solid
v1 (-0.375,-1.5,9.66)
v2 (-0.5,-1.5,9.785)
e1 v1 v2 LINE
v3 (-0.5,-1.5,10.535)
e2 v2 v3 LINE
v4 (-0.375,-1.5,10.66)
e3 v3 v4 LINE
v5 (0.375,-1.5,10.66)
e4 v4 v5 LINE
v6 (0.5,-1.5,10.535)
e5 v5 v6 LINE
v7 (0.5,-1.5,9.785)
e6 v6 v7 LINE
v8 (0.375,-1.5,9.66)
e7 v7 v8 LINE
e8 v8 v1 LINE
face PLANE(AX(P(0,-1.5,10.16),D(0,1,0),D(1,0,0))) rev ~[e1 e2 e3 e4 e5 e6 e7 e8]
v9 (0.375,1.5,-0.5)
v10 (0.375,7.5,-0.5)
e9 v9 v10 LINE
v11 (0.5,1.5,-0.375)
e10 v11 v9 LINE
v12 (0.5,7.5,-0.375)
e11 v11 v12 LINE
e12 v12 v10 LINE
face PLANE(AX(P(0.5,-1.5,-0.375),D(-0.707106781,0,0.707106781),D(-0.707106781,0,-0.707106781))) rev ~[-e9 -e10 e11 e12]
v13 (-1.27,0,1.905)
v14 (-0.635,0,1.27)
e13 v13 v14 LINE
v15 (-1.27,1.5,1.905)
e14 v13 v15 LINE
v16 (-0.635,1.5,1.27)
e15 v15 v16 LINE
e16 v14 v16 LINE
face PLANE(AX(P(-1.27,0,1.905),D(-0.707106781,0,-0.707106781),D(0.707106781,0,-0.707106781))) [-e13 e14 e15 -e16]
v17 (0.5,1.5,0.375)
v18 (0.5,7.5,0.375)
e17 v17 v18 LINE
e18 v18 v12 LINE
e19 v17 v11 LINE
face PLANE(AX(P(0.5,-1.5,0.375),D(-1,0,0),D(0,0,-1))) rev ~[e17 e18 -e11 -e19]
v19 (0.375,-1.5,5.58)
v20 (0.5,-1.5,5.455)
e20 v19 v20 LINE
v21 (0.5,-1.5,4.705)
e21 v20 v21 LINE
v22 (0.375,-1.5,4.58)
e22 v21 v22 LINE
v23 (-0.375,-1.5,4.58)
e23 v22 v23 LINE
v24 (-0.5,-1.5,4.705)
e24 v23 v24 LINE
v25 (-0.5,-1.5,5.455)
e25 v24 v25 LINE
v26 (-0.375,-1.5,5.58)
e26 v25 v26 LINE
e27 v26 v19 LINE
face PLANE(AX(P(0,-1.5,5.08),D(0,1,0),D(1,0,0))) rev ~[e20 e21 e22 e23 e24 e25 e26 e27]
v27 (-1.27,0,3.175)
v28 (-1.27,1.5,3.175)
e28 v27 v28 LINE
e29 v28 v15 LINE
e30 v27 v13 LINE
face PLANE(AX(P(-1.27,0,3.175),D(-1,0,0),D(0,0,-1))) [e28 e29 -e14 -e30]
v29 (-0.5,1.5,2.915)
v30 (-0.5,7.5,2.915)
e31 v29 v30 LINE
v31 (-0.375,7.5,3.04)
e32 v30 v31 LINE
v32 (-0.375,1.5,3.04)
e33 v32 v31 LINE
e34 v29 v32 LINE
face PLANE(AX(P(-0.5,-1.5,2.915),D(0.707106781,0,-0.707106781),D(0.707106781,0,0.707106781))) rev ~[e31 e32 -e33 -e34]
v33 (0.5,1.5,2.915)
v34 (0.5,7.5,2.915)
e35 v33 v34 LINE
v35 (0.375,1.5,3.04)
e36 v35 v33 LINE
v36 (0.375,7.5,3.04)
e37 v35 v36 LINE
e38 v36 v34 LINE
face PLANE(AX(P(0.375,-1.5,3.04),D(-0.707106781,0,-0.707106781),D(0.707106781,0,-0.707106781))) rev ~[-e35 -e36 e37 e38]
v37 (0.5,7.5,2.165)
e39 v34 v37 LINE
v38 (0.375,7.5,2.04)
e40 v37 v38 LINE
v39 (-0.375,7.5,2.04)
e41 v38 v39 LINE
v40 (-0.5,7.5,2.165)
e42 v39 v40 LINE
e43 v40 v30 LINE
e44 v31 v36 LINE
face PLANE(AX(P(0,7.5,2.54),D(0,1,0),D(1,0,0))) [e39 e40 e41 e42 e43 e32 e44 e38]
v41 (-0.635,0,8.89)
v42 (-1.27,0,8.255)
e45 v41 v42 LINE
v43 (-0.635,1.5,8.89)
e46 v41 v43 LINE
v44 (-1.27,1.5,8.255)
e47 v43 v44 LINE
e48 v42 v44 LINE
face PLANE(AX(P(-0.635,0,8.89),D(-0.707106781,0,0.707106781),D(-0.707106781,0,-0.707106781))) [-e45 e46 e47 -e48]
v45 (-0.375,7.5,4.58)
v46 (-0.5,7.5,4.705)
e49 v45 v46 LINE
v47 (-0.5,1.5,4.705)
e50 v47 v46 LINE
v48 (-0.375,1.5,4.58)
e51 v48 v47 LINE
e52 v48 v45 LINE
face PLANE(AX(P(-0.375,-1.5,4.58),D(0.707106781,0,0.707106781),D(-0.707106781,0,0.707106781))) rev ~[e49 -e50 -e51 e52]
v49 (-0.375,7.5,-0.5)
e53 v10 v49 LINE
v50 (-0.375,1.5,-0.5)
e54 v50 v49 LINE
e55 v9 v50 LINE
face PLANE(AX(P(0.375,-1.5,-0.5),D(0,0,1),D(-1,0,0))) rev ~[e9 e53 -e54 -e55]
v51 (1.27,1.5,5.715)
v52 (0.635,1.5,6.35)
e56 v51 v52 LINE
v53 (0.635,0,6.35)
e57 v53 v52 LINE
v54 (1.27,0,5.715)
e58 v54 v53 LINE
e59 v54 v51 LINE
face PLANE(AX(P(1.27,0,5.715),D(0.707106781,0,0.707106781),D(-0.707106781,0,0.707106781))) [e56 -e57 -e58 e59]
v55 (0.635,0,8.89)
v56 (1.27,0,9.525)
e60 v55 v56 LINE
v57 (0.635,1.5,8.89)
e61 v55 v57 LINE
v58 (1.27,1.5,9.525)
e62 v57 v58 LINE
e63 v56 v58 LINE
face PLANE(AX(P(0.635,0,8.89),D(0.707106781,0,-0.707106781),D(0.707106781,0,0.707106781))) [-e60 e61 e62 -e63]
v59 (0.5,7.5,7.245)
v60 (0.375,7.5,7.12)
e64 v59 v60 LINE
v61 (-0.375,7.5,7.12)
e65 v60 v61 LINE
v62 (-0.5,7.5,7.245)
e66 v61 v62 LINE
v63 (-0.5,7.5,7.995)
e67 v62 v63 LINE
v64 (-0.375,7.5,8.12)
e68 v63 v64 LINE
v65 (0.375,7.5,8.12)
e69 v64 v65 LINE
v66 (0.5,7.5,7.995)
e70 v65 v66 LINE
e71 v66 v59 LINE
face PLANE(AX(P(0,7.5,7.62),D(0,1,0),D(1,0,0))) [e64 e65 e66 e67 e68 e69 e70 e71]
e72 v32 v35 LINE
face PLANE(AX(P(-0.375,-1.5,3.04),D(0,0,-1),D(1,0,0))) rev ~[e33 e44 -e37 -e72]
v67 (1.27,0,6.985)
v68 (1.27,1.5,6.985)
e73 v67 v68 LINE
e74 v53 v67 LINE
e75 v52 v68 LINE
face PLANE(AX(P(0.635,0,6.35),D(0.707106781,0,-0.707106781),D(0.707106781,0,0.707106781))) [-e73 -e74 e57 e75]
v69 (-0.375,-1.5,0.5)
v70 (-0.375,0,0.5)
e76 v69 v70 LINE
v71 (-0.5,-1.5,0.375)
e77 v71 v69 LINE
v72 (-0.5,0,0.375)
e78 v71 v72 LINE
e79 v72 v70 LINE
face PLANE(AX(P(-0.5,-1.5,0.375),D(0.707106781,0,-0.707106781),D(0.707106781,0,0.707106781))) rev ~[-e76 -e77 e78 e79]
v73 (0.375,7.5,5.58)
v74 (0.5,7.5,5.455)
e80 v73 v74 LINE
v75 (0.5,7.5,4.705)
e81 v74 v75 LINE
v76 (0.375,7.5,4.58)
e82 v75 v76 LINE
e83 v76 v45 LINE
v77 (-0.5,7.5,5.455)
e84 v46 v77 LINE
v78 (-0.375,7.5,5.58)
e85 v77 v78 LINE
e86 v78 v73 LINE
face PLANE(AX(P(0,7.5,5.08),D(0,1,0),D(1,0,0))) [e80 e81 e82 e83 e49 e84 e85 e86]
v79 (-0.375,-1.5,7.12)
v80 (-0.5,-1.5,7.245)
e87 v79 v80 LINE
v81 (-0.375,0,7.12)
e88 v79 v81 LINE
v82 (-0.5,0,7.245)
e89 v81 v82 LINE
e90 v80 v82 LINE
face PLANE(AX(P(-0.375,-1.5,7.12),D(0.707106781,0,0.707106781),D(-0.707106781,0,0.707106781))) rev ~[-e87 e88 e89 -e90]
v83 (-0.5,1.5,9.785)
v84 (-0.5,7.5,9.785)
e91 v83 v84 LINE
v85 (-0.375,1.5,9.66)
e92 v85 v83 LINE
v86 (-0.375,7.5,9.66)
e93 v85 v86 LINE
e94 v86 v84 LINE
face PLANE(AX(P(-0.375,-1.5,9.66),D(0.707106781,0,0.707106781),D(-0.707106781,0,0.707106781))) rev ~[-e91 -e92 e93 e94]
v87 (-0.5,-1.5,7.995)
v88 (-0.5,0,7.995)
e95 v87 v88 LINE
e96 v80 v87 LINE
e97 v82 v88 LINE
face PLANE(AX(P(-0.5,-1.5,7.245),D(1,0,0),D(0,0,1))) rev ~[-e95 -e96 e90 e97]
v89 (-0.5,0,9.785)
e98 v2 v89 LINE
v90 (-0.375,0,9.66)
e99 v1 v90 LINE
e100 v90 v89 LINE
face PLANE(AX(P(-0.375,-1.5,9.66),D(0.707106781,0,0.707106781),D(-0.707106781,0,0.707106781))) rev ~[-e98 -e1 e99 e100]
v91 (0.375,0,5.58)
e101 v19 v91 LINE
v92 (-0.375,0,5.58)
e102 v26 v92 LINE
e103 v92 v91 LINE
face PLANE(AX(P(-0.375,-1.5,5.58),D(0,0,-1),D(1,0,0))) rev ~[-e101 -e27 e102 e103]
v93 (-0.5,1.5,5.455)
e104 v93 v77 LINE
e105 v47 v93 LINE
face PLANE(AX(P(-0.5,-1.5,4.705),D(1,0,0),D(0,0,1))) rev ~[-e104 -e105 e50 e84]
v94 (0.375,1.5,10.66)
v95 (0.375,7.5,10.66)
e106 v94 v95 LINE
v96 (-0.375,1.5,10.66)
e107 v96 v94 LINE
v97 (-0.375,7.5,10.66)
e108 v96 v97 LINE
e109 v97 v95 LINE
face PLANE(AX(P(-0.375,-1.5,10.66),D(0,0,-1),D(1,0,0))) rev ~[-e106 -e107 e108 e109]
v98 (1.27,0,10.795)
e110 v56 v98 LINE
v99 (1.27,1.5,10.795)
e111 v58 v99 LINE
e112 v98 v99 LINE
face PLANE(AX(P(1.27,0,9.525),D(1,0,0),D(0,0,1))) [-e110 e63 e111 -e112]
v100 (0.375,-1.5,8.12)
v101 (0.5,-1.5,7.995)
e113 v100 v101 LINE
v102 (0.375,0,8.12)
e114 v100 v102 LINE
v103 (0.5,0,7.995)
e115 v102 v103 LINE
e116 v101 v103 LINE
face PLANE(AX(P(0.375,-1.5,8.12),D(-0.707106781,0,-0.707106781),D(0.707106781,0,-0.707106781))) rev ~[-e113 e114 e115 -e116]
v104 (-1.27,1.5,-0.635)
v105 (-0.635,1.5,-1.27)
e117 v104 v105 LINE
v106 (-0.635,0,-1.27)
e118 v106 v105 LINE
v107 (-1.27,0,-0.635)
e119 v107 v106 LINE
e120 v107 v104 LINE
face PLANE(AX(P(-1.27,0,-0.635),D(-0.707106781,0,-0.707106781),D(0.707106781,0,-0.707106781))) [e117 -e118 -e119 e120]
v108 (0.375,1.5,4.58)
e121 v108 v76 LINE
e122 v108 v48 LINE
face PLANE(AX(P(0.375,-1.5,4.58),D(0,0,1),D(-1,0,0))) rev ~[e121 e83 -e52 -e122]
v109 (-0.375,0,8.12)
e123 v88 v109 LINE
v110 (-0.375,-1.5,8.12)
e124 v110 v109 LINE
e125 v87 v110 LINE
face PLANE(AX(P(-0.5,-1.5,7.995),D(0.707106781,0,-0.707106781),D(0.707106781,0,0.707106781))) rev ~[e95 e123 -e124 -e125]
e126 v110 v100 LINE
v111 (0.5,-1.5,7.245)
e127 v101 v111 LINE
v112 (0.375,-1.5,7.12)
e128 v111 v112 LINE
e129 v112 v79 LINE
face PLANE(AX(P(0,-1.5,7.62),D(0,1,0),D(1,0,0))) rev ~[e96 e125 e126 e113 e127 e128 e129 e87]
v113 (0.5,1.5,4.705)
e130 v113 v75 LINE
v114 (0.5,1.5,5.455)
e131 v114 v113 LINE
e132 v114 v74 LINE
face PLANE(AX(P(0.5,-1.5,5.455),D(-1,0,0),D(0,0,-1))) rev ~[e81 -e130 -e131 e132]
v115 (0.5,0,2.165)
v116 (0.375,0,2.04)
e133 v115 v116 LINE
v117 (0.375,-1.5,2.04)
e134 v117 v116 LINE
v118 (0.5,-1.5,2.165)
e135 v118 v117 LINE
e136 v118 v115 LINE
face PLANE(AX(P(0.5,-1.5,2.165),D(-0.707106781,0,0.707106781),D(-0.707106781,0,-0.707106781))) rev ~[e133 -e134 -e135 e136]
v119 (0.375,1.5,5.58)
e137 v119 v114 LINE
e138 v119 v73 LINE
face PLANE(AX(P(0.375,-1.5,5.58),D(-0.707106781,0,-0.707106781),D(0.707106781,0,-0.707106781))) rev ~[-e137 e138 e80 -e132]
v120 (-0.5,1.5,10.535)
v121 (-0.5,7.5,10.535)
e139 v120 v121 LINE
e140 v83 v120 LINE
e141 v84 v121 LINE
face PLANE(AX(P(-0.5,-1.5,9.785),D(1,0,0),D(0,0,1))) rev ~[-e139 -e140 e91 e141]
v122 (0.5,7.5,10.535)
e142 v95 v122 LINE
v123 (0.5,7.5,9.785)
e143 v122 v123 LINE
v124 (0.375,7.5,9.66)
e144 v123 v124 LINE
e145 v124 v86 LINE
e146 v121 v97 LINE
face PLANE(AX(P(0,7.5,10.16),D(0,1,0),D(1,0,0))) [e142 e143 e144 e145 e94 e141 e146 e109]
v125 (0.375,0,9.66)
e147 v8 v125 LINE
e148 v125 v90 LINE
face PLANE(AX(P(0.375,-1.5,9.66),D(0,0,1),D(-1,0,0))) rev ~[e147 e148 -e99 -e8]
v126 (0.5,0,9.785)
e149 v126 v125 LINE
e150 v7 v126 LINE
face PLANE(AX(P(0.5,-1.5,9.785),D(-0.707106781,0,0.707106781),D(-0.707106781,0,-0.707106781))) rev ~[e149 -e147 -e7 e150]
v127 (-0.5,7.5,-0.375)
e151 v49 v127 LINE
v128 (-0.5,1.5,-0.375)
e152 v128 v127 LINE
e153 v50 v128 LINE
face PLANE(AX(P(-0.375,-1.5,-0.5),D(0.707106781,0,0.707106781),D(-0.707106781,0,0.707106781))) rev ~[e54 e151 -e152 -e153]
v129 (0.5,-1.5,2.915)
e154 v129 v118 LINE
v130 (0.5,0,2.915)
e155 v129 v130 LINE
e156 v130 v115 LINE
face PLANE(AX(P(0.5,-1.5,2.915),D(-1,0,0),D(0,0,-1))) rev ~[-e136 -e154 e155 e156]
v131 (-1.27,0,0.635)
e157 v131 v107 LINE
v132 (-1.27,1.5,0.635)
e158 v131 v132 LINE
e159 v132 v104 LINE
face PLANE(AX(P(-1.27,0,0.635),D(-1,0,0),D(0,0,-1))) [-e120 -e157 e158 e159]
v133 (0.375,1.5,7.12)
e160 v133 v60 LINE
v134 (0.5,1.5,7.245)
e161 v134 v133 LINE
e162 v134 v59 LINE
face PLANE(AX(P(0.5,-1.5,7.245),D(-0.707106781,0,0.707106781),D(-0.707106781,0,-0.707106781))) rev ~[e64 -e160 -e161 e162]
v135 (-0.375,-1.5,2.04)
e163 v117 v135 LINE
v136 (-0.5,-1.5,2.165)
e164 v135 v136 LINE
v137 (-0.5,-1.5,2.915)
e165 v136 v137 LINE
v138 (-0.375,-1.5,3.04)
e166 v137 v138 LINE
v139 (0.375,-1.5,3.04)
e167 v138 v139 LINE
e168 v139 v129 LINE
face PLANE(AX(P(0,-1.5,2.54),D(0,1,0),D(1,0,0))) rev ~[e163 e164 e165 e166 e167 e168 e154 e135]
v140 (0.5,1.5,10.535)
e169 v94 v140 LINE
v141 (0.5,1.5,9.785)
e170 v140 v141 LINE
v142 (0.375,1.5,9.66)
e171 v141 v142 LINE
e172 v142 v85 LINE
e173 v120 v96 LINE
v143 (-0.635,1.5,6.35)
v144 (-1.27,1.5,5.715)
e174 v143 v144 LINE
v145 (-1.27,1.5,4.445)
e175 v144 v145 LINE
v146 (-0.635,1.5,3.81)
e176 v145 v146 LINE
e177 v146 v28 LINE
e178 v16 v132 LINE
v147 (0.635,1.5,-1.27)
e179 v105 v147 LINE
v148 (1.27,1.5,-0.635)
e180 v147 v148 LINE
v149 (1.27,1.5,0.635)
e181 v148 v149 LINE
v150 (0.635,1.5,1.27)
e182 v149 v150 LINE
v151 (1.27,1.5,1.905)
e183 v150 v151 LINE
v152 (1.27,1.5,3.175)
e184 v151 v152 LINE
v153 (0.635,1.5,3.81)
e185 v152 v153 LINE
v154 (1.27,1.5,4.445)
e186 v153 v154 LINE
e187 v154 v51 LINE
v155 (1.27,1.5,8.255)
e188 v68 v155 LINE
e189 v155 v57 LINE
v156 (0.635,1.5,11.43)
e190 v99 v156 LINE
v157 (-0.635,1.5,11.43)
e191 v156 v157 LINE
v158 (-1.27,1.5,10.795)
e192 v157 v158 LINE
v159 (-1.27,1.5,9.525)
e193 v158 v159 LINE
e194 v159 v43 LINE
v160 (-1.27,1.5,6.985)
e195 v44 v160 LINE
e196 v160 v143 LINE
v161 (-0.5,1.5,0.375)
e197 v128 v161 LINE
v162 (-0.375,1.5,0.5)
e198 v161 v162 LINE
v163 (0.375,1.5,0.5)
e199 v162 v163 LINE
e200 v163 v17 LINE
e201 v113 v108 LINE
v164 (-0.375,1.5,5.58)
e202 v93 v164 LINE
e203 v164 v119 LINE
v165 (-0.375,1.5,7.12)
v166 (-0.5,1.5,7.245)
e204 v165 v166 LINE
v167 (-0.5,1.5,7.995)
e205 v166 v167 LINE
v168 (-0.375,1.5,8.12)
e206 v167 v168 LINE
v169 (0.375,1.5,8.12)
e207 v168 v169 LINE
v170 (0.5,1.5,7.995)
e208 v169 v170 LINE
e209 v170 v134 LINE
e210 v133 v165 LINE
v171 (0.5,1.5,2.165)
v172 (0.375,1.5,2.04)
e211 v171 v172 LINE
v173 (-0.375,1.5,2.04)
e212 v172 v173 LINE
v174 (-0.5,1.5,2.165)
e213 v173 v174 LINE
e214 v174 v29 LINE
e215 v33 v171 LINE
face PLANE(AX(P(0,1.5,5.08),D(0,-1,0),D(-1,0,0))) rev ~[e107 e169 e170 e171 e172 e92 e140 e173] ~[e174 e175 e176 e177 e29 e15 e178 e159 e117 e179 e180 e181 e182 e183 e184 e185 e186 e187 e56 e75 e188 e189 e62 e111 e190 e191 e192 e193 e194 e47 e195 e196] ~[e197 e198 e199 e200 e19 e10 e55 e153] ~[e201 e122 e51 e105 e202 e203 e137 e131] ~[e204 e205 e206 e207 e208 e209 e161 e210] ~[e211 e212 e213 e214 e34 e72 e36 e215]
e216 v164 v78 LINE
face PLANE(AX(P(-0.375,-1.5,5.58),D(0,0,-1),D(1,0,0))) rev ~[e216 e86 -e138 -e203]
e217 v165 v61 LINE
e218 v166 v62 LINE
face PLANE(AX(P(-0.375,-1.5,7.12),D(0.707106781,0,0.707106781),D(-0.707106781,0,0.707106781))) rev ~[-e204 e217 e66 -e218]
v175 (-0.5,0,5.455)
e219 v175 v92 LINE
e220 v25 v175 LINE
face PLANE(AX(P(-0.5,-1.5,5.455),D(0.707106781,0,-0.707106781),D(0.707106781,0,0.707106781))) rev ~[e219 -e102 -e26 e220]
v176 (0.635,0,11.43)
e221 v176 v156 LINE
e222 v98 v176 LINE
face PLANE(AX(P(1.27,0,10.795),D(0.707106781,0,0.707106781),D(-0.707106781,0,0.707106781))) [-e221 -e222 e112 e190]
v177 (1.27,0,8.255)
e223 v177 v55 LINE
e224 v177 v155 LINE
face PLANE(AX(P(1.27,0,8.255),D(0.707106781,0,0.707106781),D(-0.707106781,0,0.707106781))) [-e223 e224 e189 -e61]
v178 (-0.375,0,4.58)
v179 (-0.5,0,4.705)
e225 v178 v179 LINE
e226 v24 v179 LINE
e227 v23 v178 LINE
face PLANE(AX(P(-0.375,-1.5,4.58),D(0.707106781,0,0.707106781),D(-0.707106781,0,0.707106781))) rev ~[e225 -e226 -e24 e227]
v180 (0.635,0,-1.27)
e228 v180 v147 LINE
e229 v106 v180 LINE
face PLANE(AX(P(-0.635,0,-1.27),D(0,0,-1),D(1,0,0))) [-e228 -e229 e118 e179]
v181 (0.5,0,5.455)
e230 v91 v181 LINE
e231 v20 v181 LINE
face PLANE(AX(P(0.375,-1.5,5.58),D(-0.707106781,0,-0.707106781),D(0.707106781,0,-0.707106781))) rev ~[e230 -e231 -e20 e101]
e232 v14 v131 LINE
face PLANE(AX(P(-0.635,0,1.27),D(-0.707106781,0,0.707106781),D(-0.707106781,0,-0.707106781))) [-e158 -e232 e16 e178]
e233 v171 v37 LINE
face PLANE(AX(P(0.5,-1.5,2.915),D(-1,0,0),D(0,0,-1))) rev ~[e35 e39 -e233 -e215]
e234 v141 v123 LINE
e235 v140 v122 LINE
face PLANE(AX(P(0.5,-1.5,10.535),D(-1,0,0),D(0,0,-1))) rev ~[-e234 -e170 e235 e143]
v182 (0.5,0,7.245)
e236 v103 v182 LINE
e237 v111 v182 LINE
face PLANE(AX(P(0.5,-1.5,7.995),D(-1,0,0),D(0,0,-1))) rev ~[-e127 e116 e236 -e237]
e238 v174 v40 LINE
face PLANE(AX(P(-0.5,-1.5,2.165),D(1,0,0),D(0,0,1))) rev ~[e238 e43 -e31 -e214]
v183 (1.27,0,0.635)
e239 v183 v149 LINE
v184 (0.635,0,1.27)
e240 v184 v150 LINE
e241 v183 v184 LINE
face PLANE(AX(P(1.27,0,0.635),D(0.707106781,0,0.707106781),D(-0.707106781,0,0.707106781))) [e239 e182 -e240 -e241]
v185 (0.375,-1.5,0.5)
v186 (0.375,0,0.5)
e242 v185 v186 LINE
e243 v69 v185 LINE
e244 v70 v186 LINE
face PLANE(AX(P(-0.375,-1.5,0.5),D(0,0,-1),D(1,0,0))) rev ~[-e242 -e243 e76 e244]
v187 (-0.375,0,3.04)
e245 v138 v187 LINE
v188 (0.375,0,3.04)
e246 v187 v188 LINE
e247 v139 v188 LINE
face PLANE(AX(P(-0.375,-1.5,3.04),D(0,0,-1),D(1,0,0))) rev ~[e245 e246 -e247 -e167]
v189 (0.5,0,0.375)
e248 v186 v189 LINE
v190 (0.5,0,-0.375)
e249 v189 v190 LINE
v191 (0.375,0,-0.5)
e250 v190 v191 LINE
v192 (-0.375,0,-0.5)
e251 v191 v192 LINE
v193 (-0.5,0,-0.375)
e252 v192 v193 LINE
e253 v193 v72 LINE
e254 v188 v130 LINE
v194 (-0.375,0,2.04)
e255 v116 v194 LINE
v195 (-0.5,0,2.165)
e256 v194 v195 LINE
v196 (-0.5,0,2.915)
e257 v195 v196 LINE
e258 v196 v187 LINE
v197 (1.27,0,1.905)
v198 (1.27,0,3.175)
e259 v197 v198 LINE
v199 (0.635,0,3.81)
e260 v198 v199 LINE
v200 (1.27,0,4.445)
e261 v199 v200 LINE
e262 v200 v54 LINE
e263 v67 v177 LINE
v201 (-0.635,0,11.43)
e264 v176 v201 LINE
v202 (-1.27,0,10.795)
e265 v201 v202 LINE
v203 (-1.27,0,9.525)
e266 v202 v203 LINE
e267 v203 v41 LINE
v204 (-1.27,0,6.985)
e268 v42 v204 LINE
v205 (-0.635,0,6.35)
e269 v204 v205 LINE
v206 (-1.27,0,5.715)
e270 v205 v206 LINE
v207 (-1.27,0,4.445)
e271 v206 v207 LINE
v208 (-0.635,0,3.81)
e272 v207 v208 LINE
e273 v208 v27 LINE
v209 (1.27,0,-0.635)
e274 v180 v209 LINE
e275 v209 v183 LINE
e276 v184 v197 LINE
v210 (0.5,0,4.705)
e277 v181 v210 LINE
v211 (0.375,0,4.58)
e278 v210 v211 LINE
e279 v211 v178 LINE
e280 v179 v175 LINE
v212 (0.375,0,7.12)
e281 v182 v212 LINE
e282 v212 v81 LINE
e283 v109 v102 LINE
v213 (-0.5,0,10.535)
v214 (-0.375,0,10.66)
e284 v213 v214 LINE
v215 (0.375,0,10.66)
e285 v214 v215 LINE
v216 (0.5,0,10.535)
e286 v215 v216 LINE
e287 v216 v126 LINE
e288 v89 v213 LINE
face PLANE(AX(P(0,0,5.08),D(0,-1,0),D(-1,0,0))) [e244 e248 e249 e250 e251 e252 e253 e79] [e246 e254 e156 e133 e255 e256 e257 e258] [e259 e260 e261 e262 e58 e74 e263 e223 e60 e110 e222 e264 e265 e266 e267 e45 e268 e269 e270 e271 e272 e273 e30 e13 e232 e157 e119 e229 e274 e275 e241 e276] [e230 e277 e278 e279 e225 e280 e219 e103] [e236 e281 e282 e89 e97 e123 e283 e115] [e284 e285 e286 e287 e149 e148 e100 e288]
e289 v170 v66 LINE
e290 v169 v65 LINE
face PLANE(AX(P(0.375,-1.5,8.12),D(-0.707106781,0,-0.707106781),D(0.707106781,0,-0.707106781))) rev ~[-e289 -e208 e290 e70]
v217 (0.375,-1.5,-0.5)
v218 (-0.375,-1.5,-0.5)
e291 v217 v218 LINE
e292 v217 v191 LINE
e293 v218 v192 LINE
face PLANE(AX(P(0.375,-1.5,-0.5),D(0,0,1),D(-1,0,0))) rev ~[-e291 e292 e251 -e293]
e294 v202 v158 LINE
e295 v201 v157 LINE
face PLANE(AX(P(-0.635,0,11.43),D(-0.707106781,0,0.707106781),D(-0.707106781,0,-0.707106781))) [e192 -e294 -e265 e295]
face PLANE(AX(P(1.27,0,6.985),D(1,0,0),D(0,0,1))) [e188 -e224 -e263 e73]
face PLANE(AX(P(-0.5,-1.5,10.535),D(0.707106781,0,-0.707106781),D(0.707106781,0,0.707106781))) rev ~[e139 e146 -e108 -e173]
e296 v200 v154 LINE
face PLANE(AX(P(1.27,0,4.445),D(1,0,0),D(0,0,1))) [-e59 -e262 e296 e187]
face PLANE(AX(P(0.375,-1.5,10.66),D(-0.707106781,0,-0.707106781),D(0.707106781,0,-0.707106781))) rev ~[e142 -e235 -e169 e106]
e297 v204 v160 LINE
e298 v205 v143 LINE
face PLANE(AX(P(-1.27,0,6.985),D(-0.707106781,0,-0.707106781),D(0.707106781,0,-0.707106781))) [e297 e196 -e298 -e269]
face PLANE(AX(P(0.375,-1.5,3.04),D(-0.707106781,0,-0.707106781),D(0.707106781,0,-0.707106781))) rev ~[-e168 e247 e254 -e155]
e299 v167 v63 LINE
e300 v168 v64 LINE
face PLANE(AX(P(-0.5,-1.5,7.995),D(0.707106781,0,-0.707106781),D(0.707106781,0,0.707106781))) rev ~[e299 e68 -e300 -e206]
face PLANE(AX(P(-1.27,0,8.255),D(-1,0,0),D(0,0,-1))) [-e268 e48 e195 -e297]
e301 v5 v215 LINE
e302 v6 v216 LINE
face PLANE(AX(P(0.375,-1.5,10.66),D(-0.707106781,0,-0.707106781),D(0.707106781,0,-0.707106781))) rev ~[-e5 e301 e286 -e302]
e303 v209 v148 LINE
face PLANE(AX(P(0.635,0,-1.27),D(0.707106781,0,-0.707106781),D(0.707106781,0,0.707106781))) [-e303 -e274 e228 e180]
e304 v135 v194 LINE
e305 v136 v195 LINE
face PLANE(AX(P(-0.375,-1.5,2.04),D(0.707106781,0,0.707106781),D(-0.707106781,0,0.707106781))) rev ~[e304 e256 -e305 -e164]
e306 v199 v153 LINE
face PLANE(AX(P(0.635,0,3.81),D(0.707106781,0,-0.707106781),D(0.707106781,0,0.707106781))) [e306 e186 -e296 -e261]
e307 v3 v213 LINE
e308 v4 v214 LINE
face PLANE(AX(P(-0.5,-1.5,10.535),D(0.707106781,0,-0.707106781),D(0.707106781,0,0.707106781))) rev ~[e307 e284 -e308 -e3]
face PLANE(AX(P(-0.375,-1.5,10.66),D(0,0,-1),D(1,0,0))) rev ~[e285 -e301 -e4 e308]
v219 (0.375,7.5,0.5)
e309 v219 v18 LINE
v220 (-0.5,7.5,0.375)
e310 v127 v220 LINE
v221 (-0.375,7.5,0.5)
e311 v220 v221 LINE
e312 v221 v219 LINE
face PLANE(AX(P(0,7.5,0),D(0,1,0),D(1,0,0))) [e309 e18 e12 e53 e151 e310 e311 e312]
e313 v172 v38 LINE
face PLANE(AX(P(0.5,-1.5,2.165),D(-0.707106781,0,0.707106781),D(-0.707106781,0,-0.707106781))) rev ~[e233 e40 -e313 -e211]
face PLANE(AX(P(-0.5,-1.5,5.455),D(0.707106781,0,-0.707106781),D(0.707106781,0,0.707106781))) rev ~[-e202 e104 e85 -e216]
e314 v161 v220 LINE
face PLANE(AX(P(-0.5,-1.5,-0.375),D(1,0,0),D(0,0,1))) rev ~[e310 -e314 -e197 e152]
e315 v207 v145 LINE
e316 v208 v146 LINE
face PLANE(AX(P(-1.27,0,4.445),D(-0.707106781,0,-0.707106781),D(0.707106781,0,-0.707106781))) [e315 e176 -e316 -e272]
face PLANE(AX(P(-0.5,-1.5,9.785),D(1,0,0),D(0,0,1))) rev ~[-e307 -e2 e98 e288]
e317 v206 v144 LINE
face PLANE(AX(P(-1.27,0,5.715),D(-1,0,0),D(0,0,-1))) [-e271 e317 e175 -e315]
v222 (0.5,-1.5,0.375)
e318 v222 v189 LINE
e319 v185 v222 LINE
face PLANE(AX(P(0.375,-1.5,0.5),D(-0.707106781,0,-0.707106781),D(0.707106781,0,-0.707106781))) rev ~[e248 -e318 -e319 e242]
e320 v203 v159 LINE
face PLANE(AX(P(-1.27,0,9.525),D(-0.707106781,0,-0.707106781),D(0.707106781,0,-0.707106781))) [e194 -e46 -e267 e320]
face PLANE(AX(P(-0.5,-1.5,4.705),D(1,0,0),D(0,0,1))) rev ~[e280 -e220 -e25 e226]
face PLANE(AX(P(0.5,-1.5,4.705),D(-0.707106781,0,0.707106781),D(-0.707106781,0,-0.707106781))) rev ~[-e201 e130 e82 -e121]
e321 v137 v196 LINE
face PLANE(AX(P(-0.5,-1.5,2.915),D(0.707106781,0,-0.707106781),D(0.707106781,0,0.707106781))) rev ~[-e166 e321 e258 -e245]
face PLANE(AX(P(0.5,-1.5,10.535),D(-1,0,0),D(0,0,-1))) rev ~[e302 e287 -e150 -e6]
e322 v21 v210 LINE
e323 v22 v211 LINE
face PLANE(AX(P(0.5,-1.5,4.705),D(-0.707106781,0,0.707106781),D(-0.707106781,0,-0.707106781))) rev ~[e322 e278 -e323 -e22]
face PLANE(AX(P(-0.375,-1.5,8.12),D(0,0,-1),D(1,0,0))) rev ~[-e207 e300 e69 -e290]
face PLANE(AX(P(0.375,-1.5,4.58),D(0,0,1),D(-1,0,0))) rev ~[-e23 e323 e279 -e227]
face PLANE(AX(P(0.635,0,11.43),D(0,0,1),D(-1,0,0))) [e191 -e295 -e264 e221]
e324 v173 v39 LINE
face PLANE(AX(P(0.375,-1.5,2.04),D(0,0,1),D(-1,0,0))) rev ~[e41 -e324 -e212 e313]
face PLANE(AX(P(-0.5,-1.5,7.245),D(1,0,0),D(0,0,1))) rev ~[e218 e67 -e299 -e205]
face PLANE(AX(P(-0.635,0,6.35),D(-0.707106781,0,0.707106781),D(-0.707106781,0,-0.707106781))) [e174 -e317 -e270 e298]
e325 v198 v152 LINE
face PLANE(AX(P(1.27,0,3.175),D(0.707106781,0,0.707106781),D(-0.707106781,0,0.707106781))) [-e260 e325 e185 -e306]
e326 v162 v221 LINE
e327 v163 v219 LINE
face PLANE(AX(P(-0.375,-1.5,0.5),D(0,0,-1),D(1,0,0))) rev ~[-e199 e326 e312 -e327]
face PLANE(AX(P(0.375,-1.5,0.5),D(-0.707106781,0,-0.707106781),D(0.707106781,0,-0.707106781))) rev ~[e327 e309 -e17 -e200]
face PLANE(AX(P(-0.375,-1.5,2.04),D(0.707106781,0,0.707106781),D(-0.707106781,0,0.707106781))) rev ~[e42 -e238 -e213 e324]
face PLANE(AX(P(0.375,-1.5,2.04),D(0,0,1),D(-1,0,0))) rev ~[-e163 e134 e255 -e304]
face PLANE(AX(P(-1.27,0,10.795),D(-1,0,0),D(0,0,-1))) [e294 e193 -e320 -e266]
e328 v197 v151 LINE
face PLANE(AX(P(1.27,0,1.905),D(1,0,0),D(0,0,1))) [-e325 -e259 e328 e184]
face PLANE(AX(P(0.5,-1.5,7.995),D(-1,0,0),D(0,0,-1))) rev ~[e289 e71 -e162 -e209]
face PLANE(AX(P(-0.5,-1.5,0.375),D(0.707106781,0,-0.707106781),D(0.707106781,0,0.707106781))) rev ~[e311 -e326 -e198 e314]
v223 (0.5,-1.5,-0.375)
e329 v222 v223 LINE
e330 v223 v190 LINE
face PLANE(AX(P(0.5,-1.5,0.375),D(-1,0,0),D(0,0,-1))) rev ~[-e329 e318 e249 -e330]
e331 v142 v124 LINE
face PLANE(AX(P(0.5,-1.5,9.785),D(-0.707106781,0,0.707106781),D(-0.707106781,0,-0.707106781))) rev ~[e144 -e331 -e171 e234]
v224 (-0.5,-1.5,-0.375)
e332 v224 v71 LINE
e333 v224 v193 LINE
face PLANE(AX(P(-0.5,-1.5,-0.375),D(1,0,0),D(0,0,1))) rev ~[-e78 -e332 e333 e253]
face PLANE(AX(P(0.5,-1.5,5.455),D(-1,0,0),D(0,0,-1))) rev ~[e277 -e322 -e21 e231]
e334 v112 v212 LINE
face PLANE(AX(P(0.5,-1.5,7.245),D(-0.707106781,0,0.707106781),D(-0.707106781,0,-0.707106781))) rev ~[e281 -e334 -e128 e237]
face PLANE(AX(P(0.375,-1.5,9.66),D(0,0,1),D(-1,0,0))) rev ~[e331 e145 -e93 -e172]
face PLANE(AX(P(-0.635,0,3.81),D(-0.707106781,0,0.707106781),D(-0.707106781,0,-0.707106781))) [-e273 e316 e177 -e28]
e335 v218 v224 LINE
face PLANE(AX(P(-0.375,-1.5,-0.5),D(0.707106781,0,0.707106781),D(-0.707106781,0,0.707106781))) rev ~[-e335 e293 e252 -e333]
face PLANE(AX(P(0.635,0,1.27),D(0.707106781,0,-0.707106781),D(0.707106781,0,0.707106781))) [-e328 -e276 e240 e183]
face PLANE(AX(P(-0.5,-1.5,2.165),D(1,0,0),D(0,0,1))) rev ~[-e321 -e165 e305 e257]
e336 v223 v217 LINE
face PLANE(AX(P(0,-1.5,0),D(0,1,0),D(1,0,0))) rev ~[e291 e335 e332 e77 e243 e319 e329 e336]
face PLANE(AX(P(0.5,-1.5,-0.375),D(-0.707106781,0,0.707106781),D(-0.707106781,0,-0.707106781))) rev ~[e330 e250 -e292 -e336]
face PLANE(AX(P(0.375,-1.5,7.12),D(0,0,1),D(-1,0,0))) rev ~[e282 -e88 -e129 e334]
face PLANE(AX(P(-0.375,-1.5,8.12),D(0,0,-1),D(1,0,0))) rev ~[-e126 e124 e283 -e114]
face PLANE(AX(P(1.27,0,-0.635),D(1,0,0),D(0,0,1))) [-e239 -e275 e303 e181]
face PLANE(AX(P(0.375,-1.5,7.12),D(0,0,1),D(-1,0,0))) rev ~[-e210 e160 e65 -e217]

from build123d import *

# Parameters (mm, degrees)
BOSS_EXTRUDE1_DEPTH      = 1.5
BOSS_EXTRUDE2_DEPTH      = 6
BOSS_EXTRUDE2_DEPTH_BACK = 3


with BuildPart() as part:
    # Sketch1 → Boss-Extrude1 (new body)
    with BuildSketch(Plane(origin=(0, 0, 0), x_dir=(1, 0, 0), z_dir=(0, 1, 0))):
        Polygon((-0.635, 1.27), (0.635, 1.27), (1.27, 0.635), (1.27, -0.635), (0.635, -1.27), (1.27, -1.905), (1.27, -3.175), (0.635, -3.81), (1.27, -4.445), (1.27, -5.715), (0.635, -6.35), (1.27, -6.985), (1.27, -8.255), (0.635, -8.89), (1.27, -9.525), (1.27, -10.795), (0.635, -11.43), (-0.635, -11.43), (-1.27, -10.795), (-1.27, -9.525), (-0.635, -8.89), (-1.27, -8.255), (-1.27, -6.985), (-0.635, -6.35), (-1.27, -5.715), (-1.27, -4.445), (-0.635, -3.81), (-1.27, -3.175), (-1.27, -1.905), (-0.635, -1.27), (-1.27, -0.635), (-1.27, 0.635), align=None)
    extrude(amount=BOSS_EXTRUDE1_DEPTH)

    # Sketch2 → Boss-Extrude2 (add, two sides: drawn at the far end of the back side and taken through both)
    with BuildSketch(Plane(origin=(0, 1.5, 0), x_dir=(1, 0, 0), z_dir=(0, 1, 0)).offset(-BOSS_EXTRUDE2_DEPTH_BACK)):
        Polygon((0.5, 0.375), (0.375, 0.5), (-0.375, 0.5), (-0.5, 0.375), (-0.5, -0.375), (-0.375, -0.5), (0.375, -0.5), (0.5, -0.375), align=None)
        Polygon((0.5, -2.165), (0.375, -2.04), (-0.375, -2.04), (-0.5, -2.165), (-0.5, -2.915), (-0.375, -3.04), (0.375, -3.04), (0.5, -2.915), align=None)
        Polygon((0.5, -4.705), (0.375, -4.58), (-0.375, -4.58), (-0.5, -4.705), (-0.5, -5.455), (-0.375, -5.58), (0.375, -5.58), (0.5, -5.455), align=None)
        Polygon((0.5, -7.245), (0.375, -7.12), (-0.375, -7.12), (-0.5, -7.245), (-0.5, -7.995), (-0.375, -8.12), (0.375, -8.12), (0.5, -7.995), align=None)
        Polygon((0.5, -9.785), (0.375, -9.66), (-0.375, -9.66), (-0.5, -9.785), (-0.5, -10.535), (-0.375, -10.66), (0.375, -10.66), (0.5, -10.535), align=None)
    extrude(amount=BOSS_EXTRUDE2_DEPTH + BOSS_EXTRUDE2_DEPTH_BACK)


solid = part.part
